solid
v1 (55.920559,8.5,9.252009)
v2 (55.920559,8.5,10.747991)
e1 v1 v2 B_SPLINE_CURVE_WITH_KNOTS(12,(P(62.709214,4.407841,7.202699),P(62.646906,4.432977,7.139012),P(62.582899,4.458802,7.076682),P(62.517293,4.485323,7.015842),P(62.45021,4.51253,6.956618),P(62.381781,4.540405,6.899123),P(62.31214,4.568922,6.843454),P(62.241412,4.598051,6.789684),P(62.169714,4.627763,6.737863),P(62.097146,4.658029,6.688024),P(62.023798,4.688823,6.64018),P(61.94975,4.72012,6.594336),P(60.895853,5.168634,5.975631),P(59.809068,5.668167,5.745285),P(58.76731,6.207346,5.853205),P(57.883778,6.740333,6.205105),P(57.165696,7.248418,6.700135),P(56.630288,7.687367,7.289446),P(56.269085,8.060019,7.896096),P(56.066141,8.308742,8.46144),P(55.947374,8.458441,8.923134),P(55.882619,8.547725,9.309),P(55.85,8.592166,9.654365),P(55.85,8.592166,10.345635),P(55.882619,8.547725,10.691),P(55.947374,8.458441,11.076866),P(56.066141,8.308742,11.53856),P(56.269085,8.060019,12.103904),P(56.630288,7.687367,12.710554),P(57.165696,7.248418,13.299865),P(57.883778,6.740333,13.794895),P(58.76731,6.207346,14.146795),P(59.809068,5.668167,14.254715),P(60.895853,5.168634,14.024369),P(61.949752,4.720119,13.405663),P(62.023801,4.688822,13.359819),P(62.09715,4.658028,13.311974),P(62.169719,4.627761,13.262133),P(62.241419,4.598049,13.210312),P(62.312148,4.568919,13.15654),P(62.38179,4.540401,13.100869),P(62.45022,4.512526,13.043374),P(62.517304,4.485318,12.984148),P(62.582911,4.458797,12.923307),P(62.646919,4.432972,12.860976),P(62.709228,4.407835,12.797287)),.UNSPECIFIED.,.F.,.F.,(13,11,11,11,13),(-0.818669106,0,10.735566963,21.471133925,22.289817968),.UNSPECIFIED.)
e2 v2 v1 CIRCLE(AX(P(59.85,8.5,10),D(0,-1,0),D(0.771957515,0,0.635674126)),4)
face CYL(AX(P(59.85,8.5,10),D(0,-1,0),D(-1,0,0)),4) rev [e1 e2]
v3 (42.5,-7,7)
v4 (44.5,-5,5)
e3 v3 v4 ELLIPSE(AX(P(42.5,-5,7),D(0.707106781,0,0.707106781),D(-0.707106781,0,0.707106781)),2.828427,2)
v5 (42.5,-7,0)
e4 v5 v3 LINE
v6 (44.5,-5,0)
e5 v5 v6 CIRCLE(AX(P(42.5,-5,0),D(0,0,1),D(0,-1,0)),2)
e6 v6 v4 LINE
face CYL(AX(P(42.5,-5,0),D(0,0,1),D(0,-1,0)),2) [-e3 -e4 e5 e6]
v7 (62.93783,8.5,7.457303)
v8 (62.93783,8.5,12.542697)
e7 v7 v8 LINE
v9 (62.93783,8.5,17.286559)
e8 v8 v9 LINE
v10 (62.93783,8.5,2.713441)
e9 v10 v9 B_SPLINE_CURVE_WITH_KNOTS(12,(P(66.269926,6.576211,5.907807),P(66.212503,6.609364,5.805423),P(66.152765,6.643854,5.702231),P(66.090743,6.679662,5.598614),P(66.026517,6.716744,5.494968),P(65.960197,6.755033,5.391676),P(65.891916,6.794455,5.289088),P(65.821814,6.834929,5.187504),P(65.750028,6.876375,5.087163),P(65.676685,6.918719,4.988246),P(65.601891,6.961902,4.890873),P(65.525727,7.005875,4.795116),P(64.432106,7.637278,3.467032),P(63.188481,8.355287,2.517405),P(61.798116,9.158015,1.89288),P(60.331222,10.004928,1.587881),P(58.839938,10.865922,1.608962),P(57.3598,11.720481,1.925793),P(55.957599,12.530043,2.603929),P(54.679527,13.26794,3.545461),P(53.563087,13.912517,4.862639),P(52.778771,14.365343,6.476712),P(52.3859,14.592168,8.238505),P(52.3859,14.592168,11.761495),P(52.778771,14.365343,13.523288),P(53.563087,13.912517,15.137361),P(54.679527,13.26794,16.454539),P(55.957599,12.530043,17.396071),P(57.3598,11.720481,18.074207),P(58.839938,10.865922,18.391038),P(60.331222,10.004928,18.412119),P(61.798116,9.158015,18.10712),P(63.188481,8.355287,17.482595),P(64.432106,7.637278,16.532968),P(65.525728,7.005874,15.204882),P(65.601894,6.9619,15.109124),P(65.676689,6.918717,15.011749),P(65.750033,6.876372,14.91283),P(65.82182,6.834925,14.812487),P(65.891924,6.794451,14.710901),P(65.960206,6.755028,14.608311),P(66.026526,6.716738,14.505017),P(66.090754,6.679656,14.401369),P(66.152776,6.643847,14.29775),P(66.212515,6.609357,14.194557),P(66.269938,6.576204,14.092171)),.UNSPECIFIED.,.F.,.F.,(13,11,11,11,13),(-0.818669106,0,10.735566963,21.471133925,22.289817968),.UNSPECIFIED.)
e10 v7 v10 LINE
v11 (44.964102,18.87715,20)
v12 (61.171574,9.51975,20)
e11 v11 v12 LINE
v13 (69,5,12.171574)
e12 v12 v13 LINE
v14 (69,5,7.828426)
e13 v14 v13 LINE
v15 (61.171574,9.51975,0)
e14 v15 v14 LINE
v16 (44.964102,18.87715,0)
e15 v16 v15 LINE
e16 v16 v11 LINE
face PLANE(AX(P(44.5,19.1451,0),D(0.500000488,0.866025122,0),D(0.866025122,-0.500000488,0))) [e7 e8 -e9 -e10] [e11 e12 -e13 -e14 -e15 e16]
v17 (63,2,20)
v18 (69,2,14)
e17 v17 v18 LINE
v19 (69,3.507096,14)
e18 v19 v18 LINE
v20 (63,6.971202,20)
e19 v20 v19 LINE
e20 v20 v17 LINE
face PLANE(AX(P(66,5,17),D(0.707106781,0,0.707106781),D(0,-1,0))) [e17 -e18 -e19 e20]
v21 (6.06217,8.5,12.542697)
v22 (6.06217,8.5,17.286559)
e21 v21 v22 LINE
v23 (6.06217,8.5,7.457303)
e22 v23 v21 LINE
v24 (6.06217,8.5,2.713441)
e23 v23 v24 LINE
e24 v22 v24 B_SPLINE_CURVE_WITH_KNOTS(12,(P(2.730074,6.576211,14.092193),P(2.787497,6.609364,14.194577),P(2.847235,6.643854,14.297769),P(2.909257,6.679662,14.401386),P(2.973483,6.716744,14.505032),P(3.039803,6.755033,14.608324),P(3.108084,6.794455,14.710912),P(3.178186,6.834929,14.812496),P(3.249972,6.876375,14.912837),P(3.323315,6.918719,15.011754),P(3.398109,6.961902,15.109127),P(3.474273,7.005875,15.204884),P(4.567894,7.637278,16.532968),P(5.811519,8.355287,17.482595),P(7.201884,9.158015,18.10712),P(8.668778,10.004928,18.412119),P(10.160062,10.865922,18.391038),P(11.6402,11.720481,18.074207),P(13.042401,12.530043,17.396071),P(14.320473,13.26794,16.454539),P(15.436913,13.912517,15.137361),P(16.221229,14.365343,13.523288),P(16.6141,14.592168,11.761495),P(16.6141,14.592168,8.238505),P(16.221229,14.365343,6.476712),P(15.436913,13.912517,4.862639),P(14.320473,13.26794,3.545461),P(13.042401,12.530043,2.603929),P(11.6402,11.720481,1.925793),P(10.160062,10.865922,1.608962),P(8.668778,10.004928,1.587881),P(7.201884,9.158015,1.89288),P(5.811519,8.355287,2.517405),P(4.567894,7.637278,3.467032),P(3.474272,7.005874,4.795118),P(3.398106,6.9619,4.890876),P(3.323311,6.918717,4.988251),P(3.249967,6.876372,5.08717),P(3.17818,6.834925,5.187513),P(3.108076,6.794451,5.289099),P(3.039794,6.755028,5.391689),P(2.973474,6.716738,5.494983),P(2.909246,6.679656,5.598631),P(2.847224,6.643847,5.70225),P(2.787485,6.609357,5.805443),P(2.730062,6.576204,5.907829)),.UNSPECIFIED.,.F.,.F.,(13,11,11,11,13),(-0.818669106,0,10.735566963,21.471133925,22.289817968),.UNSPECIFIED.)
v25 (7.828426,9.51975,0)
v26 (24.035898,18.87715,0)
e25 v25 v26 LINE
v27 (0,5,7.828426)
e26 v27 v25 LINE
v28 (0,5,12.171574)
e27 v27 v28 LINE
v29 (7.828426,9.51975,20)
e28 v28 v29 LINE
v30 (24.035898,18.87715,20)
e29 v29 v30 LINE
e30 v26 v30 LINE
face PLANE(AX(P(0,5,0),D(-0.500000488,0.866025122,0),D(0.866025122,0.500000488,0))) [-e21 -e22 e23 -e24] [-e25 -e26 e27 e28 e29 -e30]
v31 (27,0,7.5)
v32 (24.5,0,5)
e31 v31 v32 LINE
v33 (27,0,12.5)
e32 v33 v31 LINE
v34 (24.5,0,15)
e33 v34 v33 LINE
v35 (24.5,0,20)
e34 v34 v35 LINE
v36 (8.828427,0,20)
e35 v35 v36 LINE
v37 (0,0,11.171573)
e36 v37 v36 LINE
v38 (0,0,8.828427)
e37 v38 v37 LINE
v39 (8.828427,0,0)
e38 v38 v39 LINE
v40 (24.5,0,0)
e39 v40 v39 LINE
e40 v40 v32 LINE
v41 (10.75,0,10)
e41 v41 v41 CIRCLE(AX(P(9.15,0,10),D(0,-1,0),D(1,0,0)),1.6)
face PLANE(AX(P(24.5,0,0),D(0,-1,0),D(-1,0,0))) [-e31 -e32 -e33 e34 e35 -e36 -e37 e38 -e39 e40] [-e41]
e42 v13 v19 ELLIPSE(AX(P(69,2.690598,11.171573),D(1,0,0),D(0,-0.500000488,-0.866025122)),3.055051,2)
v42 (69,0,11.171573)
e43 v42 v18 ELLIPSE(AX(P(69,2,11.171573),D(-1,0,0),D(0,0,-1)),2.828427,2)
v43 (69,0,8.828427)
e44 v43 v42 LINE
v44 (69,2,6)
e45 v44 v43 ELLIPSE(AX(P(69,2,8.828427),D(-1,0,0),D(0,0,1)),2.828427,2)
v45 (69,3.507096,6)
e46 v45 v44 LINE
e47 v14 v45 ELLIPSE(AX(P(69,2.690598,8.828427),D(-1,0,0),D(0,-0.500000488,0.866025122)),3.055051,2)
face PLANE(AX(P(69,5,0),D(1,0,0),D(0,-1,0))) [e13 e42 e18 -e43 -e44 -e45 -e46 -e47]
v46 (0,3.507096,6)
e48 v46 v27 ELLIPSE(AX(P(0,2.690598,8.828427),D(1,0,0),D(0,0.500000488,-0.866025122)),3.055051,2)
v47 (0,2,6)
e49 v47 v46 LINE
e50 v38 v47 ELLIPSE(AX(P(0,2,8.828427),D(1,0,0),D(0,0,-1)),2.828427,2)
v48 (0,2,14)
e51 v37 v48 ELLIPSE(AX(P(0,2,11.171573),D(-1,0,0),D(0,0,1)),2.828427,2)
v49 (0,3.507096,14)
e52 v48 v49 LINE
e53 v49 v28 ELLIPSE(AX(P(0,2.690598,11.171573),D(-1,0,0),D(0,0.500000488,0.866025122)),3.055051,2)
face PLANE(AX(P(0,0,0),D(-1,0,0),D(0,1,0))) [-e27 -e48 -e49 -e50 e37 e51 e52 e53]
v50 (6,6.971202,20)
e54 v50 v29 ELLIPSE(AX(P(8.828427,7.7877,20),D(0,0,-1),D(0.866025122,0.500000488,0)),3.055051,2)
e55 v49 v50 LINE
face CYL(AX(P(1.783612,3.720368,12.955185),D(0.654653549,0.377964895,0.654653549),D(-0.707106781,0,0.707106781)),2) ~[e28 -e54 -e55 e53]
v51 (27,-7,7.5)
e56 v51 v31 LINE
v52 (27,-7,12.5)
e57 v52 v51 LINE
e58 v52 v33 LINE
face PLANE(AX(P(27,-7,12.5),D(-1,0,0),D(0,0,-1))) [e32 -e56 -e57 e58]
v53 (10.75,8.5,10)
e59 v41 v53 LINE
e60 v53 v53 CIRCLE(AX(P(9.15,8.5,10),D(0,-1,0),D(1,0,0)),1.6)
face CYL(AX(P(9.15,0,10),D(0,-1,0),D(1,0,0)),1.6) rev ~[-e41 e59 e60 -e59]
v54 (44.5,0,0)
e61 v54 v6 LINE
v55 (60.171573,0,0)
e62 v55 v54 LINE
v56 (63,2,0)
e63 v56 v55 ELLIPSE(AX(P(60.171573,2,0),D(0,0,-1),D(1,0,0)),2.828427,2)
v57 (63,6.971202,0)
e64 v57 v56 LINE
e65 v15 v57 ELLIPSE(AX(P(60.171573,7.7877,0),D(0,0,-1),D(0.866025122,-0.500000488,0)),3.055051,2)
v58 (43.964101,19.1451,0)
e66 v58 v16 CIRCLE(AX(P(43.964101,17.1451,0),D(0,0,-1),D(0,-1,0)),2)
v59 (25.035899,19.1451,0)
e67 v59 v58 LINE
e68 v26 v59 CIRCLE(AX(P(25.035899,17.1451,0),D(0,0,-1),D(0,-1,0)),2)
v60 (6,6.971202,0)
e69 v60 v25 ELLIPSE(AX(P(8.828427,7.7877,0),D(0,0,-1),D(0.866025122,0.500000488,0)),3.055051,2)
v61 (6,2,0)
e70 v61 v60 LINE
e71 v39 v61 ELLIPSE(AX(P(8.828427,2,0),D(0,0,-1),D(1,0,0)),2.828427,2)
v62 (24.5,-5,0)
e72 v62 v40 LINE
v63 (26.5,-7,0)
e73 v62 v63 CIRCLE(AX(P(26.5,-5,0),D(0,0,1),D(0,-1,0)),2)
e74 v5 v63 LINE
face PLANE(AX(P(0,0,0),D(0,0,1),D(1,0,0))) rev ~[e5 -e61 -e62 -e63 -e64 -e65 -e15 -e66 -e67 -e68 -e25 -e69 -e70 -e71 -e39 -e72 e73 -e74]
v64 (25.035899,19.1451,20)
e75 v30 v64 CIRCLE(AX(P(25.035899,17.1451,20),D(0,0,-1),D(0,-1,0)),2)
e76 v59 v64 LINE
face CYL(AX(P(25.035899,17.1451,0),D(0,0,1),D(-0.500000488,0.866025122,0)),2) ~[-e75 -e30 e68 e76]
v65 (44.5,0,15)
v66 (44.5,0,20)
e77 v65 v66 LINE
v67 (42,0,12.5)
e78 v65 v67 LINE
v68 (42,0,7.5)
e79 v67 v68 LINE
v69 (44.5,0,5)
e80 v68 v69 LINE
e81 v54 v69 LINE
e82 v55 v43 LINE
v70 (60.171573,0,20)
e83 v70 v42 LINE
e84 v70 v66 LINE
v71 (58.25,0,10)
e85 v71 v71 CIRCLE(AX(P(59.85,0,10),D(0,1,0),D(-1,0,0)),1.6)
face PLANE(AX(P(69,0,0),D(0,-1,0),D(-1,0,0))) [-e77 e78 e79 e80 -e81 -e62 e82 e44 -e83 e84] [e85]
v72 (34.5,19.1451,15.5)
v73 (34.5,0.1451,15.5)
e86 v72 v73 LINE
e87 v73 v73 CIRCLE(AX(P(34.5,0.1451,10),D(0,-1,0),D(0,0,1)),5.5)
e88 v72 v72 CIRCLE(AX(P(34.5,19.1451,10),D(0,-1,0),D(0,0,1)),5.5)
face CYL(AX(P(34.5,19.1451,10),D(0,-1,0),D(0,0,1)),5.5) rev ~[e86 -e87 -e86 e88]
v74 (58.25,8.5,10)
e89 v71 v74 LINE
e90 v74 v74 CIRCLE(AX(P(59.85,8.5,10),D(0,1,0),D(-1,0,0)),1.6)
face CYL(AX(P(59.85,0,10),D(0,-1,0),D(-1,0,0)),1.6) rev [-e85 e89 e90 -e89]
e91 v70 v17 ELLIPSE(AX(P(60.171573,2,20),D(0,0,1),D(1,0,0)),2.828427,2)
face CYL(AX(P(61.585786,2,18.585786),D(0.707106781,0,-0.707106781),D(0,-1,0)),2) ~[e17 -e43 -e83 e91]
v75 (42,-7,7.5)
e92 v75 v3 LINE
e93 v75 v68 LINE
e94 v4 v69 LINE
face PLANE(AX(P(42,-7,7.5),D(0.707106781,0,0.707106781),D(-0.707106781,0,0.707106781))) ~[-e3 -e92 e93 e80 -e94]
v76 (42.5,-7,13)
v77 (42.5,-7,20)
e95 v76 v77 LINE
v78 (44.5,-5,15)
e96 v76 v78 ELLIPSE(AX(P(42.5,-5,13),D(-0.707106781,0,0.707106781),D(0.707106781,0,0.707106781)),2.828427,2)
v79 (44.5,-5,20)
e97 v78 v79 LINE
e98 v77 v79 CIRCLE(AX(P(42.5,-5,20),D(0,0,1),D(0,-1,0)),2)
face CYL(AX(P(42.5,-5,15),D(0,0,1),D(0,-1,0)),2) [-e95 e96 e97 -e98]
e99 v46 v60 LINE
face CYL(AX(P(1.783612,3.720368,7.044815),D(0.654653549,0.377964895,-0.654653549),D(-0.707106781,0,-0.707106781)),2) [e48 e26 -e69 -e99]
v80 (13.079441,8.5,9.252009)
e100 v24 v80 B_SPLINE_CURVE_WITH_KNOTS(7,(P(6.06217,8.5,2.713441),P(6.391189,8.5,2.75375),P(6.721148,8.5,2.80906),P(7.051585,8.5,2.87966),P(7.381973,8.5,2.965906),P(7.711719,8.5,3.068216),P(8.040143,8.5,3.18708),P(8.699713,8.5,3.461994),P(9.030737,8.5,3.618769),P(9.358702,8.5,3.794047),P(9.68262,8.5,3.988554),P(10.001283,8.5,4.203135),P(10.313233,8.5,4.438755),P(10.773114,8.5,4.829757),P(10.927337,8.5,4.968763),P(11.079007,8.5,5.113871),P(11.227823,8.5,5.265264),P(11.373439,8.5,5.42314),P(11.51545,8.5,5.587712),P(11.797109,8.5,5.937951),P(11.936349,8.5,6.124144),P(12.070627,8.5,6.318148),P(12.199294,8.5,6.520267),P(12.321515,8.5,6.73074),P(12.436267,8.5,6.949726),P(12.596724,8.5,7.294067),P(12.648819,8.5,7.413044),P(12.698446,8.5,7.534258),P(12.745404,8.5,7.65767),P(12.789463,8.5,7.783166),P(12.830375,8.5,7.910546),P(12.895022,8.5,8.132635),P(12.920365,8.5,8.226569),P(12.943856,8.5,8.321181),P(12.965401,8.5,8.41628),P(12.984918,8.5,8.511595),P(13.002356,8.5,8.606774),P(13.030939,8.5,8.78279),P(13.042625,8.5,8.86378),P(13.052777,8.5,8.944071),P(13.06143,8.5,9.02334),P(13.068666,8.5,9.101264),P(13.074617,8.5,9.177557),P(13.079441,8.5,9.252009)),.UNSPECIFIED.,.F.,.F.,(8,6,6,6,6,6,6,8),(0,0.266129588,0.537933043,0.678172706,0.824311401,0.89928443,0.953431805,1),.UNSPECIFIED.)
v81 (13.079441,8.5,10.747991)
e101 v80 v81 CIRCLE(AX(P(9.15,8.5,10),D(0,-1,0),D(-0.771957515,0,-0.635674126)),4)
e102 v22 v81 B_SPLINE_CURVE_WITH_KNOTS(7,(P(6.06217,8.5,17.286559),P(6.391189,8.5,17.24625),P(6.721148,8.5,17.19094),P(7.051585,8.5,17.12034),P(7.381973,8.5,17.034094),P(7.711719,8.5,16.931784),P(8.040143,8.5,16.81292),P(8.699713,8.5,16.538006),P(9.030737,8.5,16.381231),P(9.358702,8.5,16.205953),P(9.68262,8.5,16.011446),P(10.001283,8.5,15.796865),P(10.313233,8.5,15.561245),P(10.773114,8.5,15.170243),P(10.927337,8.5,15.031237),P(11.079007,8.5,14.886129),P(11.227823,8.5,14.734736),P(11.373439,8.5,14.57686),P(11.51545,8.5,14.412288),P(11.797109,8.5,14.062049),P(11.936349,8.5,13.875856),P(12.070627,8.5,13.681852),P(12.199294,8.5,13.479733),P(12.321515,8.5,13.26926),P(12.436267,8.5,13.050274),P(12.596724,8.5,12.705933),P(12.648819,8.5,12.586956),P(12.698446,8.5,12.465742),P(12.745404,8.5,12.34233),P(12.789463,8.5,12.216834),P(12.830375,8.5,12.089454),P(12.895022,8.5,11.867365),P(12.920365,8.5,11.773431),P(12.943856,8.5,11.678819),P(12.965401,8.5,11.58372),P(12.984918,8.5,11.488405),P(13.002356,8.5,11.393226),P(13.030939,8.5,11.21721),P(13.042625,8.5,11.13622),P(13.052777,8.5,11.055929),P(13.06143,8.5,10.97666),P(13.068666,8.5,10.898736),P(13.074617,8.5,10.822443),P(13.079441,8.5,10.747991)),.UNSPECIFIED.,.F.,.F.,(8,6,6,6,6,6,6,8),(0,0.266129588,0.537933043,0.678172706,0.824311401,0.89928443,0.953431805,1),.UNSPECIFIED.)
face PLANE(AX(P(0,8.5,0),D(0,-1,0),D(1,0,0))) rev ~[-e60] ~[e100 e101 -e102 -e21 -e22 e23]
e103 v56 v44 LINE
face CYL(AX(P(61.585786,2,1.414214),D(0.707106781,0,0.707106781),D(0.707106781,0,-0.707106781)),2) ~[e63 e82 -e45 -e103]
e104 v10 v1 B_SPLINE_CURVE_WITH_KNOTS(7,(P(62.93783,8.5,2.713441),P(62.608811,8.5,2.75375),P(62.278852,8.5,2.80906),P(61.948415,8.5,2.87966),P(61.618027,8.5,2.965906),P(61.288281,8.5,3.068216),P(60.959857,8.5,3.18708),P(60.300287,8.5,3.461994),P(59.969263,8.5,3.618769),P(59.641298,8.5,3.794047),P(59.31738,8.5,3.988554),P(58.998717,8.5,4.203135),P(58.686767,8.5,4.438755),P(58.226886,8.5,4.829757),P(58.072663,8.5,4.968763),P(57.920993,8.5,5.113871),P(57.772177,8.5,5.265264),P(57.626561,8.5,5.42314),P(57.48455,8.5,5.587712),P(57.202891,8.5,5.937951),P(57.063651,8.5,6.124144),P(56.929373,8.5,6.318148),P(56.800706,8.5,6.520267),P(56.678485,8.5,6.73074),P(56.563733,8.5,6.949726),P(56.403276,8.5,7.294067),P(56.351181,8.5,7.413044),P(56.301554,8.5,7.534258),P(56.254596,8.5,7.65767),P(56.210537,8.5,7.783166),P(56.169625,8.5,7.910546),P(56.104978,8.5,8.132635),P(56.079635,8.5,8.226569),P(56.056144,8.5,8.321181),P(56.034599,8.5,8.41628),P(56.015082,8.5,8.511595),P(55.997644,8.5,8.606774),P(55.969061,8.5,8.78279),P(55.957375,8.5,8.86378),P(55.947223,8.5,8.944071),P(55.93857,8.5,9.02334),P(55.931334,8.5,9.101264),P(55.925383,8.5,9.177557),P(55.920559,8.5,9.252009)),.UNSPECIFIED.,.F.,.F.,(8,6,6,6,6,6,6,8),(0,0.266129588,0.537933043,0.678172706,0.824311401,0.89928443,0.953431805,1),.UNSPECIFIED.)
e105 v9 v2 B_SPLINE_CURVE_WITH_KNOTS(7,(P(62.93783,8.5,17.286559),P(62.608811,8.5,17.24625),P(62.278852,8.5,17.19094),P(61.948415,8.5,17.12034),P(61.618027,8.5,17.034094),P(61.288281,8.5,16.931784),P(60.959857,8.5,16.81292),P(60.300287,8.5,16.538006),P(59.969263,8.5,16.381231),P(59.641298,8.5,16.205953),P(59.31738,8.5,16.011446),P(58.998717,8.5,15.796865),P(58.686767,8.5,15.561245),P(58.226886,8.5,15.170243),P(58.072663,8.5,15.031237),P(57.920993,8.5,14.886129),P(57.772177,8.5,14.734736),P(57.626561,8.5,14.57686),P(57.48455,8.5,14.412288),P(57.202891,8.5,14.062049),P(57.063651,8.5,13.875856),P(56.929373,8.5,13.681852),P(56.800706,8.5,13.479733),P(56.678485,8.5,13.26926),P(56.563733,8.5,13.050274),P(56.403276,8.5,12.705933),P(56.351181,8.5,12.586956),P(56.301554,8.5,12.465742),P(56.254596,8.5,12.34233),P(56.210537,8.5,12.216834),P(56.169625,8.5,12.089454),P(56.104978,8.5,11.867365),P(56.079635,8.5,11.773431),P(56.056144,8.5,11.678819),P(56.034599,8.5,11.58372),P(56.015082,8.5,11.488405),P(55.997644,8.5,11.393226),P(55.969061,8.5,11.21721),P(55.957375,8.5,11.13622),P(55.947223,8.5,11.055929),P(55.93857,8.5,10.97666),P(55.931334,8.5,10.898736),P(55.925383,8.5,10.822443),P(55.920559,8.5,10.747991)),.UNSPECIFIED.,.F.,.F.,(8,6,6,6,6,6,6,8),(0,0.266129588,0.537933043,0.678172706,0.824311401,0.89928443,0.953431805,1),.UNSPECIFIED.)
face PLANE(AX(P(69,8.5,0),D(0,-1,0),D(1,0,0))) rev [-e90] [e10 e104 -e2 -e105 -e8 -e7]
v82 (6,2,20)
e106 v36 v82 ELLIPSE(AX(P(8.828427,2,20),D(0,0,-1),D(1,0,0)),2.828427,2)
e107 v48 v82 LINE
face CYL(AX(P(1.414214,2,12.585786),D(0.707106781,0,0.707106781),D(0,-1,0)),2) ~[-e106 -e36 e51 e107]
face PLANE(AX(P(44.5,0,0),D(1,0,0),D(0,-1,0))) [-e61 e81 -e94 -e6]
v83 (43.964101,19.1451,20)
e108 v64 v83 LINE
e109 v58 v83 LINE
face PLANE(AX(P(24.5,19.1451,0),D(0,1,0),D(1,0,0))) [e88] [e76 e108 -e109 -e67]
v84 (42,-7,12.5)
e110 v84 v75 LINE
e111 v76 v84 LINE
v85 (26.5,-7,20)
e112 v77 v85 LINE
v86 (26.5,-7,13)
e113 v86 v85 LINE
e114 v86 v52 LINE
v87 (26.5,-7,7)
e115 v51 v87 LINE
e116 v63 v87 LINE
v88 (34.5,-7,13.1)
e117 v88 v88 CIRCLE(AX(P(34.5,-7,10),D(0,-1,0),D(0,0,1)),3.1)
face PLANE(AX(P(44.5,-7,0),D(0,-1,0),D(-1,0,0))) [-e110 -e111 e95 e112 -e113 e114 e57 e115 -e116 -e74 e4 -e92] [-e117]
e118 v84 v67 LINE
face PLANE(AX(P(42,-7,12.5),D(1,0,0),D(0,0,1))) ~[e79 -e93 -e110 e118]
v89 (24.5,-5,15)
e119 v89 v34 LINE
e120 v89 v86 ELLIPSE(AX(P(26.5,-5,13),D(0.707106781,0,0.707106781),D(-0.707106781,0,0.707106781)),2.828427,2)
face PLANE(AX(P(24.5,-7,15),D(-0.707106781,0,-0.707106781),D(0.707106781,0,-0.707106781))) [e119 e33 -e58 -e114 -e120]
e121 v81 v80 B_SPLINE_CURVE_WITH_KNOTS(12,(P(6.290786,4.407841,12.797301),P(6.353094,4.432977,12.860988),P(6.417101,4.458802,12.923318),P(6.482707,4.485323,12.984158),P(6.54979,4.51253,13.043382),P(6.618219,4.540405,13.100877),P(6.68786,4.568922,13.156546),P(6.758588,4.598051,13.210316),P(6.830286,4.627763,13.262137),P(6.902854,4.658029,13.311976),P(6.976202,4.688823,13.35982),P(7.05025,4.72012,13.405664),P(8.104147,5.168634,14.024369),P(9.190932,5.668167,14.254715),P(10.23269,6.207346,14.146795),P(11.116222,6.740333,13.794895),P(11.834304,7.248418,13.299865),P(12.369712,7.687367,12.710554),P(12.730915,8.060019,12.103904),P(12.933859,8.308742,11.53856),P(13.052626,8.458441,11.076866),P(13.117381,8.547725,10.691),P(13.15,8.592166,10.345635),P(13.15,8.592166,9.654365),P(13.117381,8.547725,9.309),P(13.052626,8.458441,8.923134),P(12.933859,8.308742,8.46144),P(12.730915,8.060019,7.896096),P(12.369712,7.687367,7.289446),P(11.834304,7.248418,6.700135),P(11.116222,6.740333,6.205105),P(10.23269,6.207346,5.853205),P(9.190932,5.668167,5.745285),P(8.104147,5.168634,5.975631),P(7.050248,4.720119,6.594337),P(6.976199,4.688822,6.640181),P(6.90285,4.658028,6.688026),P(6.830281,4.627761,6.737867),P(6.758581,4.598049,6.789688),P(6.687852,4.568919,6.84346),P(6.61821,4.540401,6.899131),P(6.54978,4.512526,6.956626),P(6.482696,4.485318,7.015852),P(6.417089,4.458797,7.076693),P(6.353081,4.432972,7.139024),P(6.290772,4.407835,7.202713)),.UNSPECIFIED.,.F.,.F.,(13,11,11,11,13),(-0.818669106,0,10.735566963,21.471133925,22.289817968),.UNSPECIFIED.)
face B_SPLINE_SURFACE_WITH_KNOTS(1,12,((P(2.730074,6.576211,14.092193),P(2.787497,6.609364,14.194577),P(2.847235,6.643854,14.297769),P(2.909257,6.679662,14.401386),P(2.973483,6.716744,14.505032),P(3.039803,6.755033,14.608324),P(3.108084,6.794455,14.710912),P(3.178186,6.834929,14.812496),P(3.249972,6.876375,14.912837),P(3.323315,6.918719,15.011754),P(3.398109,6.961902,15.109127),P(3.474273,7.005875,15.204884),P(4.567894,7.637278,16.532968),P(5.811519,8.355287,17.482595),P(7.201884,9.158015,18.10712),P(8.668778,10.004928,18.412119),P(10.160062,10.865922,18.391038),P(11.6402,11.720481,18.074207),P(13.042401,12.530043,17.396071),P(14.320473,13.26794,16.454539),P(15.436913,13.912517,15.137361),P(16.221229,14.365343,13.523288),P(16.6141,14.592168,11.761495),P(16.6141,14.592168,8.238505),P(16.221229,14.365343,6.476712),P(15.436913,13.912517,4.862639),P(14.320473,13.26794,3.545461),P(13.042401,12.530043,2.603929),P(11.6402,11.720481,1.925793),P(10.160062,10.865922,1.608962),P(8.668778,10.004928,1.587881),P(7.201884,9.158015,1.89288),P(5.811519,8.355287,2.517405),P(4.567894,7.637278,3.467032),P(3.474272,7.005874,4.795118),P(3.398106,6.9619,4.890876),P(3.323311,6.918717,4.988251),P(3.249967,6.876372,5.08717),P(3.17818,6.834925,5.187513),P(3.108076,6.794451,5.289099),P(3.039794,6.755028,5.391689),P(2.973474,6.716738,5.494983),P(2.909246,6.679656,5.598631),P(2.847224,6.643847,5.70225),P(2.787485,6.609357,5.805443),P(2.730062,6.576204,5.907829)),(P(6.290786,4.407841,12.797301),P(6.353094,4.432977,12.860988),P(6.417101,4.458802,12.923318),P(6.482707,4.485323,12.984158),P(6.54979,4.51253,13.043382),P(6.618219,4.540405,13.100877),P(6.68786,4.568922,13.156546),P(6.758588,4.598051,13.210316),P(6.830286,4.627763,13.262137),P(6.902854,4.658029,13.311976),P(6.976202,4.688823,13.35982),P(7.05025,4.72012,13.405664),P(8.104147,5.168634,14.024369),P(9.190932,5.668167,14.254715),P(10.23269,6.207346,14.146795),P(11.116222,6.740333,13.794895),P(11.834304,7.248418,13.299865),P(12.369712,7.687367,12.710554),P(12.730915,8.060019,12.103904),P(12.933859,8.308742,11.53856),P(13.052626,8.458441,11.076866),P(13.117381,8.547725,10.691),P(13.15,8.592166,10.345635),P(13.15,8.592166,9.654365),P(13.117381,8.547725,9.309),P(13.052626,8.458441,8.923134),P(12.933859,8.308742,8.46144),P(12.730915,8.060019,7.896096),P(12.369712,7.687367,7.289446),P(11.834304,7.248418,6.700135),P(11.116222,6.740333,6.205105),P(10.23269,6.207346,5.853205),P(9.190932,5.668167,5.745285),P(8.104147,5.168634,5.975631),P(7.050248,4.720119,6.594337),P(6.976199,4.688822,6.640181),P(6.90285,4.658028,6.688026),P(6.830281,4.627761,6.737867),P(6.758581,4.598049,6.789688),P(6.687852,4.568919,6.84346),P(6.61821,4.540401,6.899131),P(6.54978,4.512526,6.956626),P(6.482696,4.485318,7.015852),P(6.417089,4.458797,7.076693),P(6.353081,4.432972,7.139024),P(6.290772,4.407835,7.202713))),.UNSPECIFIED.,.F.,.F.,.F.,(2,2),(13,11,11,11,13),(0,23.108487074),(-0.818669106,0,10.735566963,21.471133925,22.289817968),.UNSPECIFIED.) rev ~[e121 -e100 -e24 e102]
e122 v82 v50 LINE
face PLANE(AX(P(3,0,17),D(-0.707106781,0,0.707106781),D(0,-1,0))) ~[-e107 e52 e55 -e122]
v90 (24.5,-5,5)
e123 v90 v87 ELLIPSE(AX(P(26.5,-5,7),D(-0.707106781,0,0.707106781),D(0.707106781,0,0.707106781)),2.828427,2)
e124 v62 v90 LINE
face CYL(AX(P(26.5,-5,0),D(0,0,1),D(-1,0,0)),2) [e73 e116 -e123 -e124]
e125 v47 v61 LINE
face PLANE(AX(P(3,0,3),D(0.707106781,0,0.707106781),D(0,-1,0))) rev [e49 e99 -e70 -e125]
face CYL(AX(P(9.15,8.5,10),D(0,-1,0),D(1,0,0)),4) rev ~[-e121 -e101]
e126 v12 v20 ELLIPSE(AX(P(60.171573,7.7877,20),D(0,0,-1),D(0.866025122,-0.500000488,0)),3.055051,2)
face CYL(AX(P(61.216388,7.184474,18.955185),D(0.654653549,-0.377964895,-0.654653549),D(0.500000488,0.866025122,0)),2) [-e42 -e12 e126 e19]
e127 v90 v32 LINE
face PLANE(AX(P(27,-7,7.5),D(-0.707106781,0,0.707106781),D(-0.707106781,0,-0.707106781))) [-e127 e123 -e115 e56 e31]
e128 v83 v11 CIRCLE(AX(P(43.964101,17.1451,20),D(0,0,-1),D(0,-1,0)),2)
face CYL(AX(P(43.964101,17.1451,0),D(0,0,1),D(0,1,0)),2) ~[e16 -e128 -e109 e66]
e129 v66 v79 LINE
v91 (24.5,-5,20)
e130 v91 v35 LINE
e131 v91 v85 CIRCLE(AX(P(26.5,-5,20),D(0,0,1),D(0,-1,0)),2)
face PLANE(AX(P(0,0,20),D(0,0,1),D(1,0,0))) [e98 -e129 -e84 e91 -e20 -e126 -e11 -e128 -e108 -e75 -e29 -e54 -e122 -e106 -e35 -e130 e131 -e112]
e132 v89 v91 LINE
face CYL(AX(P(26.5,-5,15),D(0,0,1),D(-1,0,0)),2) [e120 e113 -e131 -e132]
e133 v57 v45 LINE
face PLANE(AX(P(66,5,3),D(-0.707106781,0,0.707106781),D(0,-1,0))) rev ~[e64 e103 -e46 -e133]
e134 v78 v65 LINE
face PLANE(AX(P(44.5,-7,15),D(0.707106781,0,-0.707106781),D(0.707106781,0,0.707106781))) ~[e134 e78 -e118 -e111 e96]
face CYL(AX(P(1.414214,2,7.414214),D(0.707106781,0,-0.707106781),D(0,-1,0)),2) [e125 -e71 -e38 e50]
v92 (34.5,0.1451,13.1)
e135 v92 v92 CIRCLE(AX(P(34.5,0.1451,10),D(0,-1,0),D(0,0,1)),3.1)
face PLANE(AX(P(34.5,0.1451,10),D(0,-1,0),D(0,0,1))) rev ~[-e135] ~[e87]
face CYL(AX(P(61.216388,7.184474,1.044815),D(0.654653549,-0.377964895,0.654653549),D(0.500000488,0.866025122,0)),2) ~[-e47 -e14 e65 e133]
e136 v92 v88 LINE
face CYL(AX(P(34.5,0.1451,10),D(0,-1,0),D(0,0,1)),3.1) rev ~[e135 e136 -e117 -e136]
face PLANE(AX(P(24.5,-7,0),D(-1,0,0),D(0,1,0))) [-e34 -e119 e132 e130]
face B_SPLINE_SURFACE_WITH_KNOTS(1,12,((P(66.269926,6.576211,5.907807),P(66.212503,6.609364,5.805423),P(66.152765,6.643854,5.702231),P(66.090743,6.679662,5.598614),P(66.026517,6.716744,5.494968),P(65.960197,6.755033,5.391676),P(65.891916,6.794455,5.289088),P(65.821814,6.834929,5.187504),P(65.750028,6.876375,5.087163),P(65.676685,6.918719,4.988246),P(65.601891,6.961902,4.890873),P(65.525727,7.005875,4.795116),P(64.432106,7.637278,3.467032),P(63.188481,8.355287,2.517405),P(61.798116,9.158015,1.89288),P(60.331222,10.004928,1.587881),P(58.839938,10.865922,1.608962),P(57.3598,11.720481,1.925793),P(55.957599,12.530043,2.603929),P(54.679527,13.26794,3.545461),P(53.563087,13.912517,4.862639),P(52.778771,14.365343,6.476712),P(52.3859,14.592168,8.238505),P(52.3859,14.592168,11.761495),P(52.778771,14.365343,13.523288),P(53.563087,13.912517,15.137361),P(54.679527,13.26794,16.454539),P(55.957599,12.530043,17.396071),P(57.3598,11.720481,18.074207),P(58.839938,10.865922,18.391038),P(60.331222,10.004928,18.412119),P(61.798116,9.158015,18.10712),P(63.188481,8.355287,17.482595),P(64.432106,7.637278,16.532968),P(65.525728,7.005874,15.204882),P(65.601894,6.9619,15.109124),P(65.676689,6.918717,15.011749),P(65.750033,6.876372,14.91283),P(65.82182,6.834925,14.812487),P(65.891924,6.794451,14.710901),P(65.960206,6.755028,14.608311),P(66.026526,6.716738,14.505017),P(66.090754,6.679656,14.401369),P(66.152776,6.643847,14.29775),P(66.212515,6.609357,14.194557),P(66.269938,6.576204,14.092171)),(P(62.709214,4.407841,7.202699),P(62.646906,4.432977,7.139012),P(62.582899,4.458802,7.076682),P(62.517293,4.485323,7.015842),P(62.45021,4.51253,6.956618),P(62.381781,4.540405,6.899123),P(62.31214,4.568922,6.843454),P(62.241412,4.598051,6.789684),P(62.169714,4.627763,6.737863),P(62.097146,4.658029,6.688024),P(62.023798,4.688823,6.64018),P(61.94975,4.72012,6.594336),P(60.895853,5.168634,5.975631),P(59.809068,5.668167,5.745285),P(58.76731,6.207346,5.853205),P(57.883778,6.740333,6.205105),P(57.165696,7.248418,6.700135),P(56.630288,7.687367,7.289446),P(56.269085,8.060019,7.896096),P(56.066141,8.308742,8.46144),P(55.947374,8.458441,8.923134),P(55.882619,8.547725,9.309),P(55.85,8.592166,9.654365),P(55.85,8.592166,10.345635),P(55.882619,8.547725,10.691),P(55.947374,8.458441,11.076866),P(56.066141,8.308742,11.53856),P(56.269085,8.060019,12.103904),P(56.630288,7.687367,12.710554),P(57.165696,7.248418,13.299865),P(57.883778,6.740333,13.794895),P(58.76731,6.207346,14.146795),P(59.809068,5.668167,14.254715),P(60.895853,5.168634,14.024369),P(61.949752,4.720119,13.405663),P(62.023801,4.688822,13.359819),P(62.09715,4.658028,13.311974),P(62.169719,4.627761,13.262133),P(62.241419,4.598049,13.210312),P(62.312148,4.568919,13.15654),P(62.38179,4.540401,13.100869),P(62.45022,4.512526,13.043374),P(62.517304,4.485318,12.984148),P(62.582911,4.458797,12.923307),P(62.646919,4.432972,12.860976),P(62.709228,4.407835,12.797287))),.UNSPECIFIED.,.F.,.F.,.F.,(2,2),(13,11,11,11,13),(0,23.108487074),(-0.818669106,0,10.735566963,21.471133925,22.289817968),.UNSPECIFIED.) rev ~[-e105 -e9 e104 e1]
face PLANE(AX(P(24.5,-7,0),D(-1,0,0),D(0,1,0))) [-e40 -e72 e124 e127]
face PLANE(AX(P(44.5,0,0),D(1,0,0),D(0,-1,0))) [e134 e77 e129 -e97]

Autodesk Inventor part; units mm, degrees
ref_plane "YZ Plane" through (0, 0, 0) normal (1, 0, 0) x (0, 1, 0)
ref_plane "XZ Plane" through (0, 0, 0) normal (0, 1, 0) x (-1, 0, 0)
sketch "Sketch1" plane through (0, 0, 0) normal (0, 0, 1) x (1, 0, 0)
  line L0 (0, 0) -> (0, 5)
  line L1 (0, 5) -> (24.5, 19.1451)
  line L2 (24.5, 19.1451) -> (44.5, 19.1451)
  line L3 (44.5, 19.1451) -> (69, 5)
  line L4 (69, 5) -> (69, 0)
  line L5 (69, 0) -> (44.5, 0)
  line L6 (44.5, 0) -> (44.5, -7)
  line L7 (44.5, -7) -> (24.5, -7)
  line L8 (24.5, -7) -> (24.5, 0)
  line L9 (24.5, 0) -> (0, 0)
  dimension "d0" = 20
  dimension "d1" = 7
  dimension "d2" = 5
  dimension "d3" = 24.5
  dimension "d4" = 120
  dimension "d5" = 120
  dimension "d6" = 20
extrude "Extrusion1" add sketch "Sketch1" along normal blind 20
sketch "Sketch2" plane through (24.5, -7, 0) normal (0, -1, 0) x (1, 0, 0)
  line L0 (0, 0) -> (20, 0) projected
  line L1 (20, 0) -> (20, 20) projected
  line L2 (0, 20) -> (20, 20) projected
  line L3 (0, 0) -> (0, 20) projected
  line L4 (0, 15) -> (2.5, 12.5)
  line L5 (2.5, 12.5) -> (2.5, 7.5)
  line L6 (2.5, 7.5) -> (0, 5)
  point P0 (-24.5, 0)
  point P1 (0, 10)
  point P2 (2.5, 10)
  dimension "d9" = 135
  dimension "d10" = 135
  dimension "d11" = 10
  dimension "d12" = 2.5
extrude "Extrusion2" cut sketch "Sketch2" against normal up to surface (7 mm away) contours L3 L4 L5 L6
ref_plane "Work Plane1" through (34.5, -7, 20) normal (-1, 0, 0) x (0, 0, 1)
sketch "Sketch3" plane through (0, 0, 0) normal (0, -1, 0) x (1, 0, 0)
  line L0 (24.5, 15) -> (24.5, 20) projected
  line L1 (0, 0) -> (0, 20) projected
  circle A0 centre (9.15, 10) radius 4
  circle A1 centre (9.15, 10) radius 1.6
  point P0 (0, 10)
  dimension "d15" = 15.35
  dimension "d16" = 3.2
  dimension "d17" = 8
extrude "Extrusion3" cut sketch "Sketch3" against normal through all contours A1
ref_plane "Work Plane2" through (0, 8.5, 0) normal (0, -1, 0) x (1, 0, 0)
extrude "Extrusion4" cut sketch "Sketch3" against normal blind 10 from surface at -8.5
sketch "Sketch4" plane through (24.5, 19.1451, 0) normal (0, 1, 0) x (1, 0, 0)
  line L0 (20, 0) -> (0, 0) projected
  line L1 (0, 0) -> (0, -20) projected
  line L2 (20, -20) -> (0, -20) projected
  line L3 (20, 0) -> (20, -20) projected
  point P0 (-24.5, 0)
  point P1 (10, -10)
  point P2 (20, -10)
  point P3 (10, -20)
hole "Hole1" at (34.5, 19.1451, 10) direction (0, -1, 0) diameter 6.2 end through all counterbore diameter 11 counterbore depth 19
mirror "Mirror1" about plane through (34.5, -7, 20) normal (-1, 0, 0) of "Extrusion2", "Extrusion3", "Extrusion4"
chamfer "Chamfer1" distance 6 angle 45 4 edges at (0, 2.5, 0) (0, 2.5, 20) (69, 2.5, 20) (69, 2.5, 0)
fillet "Fillet1" radius 2 14 edges at (3, 0, 3) (24.5, -7, 2.5) (24.5, -7, 17.5) (3, 0, 17) (3, 6.7321, 17) (3, 6.7321, 3) (24.5, 19.1451, 10) (44.5, -7, 17.5) (44.5, -7, 2.5) (66, 6.7321, 17) (66, 0, 17) (66, 6.7321, 3) (66, 0, 3) (44.5, 19.1451, 10)
chamfer "Chamfer2" distance 4 angle 45 4 edges at (58.4993, 11.0626, 13.7651) (58.4993, 11.0626, 6.2349) (10.5007, 11.0626, 6.2349) (10.5007, 11.0626, 13.7651)
properties part number "Belt tensioner mount"
